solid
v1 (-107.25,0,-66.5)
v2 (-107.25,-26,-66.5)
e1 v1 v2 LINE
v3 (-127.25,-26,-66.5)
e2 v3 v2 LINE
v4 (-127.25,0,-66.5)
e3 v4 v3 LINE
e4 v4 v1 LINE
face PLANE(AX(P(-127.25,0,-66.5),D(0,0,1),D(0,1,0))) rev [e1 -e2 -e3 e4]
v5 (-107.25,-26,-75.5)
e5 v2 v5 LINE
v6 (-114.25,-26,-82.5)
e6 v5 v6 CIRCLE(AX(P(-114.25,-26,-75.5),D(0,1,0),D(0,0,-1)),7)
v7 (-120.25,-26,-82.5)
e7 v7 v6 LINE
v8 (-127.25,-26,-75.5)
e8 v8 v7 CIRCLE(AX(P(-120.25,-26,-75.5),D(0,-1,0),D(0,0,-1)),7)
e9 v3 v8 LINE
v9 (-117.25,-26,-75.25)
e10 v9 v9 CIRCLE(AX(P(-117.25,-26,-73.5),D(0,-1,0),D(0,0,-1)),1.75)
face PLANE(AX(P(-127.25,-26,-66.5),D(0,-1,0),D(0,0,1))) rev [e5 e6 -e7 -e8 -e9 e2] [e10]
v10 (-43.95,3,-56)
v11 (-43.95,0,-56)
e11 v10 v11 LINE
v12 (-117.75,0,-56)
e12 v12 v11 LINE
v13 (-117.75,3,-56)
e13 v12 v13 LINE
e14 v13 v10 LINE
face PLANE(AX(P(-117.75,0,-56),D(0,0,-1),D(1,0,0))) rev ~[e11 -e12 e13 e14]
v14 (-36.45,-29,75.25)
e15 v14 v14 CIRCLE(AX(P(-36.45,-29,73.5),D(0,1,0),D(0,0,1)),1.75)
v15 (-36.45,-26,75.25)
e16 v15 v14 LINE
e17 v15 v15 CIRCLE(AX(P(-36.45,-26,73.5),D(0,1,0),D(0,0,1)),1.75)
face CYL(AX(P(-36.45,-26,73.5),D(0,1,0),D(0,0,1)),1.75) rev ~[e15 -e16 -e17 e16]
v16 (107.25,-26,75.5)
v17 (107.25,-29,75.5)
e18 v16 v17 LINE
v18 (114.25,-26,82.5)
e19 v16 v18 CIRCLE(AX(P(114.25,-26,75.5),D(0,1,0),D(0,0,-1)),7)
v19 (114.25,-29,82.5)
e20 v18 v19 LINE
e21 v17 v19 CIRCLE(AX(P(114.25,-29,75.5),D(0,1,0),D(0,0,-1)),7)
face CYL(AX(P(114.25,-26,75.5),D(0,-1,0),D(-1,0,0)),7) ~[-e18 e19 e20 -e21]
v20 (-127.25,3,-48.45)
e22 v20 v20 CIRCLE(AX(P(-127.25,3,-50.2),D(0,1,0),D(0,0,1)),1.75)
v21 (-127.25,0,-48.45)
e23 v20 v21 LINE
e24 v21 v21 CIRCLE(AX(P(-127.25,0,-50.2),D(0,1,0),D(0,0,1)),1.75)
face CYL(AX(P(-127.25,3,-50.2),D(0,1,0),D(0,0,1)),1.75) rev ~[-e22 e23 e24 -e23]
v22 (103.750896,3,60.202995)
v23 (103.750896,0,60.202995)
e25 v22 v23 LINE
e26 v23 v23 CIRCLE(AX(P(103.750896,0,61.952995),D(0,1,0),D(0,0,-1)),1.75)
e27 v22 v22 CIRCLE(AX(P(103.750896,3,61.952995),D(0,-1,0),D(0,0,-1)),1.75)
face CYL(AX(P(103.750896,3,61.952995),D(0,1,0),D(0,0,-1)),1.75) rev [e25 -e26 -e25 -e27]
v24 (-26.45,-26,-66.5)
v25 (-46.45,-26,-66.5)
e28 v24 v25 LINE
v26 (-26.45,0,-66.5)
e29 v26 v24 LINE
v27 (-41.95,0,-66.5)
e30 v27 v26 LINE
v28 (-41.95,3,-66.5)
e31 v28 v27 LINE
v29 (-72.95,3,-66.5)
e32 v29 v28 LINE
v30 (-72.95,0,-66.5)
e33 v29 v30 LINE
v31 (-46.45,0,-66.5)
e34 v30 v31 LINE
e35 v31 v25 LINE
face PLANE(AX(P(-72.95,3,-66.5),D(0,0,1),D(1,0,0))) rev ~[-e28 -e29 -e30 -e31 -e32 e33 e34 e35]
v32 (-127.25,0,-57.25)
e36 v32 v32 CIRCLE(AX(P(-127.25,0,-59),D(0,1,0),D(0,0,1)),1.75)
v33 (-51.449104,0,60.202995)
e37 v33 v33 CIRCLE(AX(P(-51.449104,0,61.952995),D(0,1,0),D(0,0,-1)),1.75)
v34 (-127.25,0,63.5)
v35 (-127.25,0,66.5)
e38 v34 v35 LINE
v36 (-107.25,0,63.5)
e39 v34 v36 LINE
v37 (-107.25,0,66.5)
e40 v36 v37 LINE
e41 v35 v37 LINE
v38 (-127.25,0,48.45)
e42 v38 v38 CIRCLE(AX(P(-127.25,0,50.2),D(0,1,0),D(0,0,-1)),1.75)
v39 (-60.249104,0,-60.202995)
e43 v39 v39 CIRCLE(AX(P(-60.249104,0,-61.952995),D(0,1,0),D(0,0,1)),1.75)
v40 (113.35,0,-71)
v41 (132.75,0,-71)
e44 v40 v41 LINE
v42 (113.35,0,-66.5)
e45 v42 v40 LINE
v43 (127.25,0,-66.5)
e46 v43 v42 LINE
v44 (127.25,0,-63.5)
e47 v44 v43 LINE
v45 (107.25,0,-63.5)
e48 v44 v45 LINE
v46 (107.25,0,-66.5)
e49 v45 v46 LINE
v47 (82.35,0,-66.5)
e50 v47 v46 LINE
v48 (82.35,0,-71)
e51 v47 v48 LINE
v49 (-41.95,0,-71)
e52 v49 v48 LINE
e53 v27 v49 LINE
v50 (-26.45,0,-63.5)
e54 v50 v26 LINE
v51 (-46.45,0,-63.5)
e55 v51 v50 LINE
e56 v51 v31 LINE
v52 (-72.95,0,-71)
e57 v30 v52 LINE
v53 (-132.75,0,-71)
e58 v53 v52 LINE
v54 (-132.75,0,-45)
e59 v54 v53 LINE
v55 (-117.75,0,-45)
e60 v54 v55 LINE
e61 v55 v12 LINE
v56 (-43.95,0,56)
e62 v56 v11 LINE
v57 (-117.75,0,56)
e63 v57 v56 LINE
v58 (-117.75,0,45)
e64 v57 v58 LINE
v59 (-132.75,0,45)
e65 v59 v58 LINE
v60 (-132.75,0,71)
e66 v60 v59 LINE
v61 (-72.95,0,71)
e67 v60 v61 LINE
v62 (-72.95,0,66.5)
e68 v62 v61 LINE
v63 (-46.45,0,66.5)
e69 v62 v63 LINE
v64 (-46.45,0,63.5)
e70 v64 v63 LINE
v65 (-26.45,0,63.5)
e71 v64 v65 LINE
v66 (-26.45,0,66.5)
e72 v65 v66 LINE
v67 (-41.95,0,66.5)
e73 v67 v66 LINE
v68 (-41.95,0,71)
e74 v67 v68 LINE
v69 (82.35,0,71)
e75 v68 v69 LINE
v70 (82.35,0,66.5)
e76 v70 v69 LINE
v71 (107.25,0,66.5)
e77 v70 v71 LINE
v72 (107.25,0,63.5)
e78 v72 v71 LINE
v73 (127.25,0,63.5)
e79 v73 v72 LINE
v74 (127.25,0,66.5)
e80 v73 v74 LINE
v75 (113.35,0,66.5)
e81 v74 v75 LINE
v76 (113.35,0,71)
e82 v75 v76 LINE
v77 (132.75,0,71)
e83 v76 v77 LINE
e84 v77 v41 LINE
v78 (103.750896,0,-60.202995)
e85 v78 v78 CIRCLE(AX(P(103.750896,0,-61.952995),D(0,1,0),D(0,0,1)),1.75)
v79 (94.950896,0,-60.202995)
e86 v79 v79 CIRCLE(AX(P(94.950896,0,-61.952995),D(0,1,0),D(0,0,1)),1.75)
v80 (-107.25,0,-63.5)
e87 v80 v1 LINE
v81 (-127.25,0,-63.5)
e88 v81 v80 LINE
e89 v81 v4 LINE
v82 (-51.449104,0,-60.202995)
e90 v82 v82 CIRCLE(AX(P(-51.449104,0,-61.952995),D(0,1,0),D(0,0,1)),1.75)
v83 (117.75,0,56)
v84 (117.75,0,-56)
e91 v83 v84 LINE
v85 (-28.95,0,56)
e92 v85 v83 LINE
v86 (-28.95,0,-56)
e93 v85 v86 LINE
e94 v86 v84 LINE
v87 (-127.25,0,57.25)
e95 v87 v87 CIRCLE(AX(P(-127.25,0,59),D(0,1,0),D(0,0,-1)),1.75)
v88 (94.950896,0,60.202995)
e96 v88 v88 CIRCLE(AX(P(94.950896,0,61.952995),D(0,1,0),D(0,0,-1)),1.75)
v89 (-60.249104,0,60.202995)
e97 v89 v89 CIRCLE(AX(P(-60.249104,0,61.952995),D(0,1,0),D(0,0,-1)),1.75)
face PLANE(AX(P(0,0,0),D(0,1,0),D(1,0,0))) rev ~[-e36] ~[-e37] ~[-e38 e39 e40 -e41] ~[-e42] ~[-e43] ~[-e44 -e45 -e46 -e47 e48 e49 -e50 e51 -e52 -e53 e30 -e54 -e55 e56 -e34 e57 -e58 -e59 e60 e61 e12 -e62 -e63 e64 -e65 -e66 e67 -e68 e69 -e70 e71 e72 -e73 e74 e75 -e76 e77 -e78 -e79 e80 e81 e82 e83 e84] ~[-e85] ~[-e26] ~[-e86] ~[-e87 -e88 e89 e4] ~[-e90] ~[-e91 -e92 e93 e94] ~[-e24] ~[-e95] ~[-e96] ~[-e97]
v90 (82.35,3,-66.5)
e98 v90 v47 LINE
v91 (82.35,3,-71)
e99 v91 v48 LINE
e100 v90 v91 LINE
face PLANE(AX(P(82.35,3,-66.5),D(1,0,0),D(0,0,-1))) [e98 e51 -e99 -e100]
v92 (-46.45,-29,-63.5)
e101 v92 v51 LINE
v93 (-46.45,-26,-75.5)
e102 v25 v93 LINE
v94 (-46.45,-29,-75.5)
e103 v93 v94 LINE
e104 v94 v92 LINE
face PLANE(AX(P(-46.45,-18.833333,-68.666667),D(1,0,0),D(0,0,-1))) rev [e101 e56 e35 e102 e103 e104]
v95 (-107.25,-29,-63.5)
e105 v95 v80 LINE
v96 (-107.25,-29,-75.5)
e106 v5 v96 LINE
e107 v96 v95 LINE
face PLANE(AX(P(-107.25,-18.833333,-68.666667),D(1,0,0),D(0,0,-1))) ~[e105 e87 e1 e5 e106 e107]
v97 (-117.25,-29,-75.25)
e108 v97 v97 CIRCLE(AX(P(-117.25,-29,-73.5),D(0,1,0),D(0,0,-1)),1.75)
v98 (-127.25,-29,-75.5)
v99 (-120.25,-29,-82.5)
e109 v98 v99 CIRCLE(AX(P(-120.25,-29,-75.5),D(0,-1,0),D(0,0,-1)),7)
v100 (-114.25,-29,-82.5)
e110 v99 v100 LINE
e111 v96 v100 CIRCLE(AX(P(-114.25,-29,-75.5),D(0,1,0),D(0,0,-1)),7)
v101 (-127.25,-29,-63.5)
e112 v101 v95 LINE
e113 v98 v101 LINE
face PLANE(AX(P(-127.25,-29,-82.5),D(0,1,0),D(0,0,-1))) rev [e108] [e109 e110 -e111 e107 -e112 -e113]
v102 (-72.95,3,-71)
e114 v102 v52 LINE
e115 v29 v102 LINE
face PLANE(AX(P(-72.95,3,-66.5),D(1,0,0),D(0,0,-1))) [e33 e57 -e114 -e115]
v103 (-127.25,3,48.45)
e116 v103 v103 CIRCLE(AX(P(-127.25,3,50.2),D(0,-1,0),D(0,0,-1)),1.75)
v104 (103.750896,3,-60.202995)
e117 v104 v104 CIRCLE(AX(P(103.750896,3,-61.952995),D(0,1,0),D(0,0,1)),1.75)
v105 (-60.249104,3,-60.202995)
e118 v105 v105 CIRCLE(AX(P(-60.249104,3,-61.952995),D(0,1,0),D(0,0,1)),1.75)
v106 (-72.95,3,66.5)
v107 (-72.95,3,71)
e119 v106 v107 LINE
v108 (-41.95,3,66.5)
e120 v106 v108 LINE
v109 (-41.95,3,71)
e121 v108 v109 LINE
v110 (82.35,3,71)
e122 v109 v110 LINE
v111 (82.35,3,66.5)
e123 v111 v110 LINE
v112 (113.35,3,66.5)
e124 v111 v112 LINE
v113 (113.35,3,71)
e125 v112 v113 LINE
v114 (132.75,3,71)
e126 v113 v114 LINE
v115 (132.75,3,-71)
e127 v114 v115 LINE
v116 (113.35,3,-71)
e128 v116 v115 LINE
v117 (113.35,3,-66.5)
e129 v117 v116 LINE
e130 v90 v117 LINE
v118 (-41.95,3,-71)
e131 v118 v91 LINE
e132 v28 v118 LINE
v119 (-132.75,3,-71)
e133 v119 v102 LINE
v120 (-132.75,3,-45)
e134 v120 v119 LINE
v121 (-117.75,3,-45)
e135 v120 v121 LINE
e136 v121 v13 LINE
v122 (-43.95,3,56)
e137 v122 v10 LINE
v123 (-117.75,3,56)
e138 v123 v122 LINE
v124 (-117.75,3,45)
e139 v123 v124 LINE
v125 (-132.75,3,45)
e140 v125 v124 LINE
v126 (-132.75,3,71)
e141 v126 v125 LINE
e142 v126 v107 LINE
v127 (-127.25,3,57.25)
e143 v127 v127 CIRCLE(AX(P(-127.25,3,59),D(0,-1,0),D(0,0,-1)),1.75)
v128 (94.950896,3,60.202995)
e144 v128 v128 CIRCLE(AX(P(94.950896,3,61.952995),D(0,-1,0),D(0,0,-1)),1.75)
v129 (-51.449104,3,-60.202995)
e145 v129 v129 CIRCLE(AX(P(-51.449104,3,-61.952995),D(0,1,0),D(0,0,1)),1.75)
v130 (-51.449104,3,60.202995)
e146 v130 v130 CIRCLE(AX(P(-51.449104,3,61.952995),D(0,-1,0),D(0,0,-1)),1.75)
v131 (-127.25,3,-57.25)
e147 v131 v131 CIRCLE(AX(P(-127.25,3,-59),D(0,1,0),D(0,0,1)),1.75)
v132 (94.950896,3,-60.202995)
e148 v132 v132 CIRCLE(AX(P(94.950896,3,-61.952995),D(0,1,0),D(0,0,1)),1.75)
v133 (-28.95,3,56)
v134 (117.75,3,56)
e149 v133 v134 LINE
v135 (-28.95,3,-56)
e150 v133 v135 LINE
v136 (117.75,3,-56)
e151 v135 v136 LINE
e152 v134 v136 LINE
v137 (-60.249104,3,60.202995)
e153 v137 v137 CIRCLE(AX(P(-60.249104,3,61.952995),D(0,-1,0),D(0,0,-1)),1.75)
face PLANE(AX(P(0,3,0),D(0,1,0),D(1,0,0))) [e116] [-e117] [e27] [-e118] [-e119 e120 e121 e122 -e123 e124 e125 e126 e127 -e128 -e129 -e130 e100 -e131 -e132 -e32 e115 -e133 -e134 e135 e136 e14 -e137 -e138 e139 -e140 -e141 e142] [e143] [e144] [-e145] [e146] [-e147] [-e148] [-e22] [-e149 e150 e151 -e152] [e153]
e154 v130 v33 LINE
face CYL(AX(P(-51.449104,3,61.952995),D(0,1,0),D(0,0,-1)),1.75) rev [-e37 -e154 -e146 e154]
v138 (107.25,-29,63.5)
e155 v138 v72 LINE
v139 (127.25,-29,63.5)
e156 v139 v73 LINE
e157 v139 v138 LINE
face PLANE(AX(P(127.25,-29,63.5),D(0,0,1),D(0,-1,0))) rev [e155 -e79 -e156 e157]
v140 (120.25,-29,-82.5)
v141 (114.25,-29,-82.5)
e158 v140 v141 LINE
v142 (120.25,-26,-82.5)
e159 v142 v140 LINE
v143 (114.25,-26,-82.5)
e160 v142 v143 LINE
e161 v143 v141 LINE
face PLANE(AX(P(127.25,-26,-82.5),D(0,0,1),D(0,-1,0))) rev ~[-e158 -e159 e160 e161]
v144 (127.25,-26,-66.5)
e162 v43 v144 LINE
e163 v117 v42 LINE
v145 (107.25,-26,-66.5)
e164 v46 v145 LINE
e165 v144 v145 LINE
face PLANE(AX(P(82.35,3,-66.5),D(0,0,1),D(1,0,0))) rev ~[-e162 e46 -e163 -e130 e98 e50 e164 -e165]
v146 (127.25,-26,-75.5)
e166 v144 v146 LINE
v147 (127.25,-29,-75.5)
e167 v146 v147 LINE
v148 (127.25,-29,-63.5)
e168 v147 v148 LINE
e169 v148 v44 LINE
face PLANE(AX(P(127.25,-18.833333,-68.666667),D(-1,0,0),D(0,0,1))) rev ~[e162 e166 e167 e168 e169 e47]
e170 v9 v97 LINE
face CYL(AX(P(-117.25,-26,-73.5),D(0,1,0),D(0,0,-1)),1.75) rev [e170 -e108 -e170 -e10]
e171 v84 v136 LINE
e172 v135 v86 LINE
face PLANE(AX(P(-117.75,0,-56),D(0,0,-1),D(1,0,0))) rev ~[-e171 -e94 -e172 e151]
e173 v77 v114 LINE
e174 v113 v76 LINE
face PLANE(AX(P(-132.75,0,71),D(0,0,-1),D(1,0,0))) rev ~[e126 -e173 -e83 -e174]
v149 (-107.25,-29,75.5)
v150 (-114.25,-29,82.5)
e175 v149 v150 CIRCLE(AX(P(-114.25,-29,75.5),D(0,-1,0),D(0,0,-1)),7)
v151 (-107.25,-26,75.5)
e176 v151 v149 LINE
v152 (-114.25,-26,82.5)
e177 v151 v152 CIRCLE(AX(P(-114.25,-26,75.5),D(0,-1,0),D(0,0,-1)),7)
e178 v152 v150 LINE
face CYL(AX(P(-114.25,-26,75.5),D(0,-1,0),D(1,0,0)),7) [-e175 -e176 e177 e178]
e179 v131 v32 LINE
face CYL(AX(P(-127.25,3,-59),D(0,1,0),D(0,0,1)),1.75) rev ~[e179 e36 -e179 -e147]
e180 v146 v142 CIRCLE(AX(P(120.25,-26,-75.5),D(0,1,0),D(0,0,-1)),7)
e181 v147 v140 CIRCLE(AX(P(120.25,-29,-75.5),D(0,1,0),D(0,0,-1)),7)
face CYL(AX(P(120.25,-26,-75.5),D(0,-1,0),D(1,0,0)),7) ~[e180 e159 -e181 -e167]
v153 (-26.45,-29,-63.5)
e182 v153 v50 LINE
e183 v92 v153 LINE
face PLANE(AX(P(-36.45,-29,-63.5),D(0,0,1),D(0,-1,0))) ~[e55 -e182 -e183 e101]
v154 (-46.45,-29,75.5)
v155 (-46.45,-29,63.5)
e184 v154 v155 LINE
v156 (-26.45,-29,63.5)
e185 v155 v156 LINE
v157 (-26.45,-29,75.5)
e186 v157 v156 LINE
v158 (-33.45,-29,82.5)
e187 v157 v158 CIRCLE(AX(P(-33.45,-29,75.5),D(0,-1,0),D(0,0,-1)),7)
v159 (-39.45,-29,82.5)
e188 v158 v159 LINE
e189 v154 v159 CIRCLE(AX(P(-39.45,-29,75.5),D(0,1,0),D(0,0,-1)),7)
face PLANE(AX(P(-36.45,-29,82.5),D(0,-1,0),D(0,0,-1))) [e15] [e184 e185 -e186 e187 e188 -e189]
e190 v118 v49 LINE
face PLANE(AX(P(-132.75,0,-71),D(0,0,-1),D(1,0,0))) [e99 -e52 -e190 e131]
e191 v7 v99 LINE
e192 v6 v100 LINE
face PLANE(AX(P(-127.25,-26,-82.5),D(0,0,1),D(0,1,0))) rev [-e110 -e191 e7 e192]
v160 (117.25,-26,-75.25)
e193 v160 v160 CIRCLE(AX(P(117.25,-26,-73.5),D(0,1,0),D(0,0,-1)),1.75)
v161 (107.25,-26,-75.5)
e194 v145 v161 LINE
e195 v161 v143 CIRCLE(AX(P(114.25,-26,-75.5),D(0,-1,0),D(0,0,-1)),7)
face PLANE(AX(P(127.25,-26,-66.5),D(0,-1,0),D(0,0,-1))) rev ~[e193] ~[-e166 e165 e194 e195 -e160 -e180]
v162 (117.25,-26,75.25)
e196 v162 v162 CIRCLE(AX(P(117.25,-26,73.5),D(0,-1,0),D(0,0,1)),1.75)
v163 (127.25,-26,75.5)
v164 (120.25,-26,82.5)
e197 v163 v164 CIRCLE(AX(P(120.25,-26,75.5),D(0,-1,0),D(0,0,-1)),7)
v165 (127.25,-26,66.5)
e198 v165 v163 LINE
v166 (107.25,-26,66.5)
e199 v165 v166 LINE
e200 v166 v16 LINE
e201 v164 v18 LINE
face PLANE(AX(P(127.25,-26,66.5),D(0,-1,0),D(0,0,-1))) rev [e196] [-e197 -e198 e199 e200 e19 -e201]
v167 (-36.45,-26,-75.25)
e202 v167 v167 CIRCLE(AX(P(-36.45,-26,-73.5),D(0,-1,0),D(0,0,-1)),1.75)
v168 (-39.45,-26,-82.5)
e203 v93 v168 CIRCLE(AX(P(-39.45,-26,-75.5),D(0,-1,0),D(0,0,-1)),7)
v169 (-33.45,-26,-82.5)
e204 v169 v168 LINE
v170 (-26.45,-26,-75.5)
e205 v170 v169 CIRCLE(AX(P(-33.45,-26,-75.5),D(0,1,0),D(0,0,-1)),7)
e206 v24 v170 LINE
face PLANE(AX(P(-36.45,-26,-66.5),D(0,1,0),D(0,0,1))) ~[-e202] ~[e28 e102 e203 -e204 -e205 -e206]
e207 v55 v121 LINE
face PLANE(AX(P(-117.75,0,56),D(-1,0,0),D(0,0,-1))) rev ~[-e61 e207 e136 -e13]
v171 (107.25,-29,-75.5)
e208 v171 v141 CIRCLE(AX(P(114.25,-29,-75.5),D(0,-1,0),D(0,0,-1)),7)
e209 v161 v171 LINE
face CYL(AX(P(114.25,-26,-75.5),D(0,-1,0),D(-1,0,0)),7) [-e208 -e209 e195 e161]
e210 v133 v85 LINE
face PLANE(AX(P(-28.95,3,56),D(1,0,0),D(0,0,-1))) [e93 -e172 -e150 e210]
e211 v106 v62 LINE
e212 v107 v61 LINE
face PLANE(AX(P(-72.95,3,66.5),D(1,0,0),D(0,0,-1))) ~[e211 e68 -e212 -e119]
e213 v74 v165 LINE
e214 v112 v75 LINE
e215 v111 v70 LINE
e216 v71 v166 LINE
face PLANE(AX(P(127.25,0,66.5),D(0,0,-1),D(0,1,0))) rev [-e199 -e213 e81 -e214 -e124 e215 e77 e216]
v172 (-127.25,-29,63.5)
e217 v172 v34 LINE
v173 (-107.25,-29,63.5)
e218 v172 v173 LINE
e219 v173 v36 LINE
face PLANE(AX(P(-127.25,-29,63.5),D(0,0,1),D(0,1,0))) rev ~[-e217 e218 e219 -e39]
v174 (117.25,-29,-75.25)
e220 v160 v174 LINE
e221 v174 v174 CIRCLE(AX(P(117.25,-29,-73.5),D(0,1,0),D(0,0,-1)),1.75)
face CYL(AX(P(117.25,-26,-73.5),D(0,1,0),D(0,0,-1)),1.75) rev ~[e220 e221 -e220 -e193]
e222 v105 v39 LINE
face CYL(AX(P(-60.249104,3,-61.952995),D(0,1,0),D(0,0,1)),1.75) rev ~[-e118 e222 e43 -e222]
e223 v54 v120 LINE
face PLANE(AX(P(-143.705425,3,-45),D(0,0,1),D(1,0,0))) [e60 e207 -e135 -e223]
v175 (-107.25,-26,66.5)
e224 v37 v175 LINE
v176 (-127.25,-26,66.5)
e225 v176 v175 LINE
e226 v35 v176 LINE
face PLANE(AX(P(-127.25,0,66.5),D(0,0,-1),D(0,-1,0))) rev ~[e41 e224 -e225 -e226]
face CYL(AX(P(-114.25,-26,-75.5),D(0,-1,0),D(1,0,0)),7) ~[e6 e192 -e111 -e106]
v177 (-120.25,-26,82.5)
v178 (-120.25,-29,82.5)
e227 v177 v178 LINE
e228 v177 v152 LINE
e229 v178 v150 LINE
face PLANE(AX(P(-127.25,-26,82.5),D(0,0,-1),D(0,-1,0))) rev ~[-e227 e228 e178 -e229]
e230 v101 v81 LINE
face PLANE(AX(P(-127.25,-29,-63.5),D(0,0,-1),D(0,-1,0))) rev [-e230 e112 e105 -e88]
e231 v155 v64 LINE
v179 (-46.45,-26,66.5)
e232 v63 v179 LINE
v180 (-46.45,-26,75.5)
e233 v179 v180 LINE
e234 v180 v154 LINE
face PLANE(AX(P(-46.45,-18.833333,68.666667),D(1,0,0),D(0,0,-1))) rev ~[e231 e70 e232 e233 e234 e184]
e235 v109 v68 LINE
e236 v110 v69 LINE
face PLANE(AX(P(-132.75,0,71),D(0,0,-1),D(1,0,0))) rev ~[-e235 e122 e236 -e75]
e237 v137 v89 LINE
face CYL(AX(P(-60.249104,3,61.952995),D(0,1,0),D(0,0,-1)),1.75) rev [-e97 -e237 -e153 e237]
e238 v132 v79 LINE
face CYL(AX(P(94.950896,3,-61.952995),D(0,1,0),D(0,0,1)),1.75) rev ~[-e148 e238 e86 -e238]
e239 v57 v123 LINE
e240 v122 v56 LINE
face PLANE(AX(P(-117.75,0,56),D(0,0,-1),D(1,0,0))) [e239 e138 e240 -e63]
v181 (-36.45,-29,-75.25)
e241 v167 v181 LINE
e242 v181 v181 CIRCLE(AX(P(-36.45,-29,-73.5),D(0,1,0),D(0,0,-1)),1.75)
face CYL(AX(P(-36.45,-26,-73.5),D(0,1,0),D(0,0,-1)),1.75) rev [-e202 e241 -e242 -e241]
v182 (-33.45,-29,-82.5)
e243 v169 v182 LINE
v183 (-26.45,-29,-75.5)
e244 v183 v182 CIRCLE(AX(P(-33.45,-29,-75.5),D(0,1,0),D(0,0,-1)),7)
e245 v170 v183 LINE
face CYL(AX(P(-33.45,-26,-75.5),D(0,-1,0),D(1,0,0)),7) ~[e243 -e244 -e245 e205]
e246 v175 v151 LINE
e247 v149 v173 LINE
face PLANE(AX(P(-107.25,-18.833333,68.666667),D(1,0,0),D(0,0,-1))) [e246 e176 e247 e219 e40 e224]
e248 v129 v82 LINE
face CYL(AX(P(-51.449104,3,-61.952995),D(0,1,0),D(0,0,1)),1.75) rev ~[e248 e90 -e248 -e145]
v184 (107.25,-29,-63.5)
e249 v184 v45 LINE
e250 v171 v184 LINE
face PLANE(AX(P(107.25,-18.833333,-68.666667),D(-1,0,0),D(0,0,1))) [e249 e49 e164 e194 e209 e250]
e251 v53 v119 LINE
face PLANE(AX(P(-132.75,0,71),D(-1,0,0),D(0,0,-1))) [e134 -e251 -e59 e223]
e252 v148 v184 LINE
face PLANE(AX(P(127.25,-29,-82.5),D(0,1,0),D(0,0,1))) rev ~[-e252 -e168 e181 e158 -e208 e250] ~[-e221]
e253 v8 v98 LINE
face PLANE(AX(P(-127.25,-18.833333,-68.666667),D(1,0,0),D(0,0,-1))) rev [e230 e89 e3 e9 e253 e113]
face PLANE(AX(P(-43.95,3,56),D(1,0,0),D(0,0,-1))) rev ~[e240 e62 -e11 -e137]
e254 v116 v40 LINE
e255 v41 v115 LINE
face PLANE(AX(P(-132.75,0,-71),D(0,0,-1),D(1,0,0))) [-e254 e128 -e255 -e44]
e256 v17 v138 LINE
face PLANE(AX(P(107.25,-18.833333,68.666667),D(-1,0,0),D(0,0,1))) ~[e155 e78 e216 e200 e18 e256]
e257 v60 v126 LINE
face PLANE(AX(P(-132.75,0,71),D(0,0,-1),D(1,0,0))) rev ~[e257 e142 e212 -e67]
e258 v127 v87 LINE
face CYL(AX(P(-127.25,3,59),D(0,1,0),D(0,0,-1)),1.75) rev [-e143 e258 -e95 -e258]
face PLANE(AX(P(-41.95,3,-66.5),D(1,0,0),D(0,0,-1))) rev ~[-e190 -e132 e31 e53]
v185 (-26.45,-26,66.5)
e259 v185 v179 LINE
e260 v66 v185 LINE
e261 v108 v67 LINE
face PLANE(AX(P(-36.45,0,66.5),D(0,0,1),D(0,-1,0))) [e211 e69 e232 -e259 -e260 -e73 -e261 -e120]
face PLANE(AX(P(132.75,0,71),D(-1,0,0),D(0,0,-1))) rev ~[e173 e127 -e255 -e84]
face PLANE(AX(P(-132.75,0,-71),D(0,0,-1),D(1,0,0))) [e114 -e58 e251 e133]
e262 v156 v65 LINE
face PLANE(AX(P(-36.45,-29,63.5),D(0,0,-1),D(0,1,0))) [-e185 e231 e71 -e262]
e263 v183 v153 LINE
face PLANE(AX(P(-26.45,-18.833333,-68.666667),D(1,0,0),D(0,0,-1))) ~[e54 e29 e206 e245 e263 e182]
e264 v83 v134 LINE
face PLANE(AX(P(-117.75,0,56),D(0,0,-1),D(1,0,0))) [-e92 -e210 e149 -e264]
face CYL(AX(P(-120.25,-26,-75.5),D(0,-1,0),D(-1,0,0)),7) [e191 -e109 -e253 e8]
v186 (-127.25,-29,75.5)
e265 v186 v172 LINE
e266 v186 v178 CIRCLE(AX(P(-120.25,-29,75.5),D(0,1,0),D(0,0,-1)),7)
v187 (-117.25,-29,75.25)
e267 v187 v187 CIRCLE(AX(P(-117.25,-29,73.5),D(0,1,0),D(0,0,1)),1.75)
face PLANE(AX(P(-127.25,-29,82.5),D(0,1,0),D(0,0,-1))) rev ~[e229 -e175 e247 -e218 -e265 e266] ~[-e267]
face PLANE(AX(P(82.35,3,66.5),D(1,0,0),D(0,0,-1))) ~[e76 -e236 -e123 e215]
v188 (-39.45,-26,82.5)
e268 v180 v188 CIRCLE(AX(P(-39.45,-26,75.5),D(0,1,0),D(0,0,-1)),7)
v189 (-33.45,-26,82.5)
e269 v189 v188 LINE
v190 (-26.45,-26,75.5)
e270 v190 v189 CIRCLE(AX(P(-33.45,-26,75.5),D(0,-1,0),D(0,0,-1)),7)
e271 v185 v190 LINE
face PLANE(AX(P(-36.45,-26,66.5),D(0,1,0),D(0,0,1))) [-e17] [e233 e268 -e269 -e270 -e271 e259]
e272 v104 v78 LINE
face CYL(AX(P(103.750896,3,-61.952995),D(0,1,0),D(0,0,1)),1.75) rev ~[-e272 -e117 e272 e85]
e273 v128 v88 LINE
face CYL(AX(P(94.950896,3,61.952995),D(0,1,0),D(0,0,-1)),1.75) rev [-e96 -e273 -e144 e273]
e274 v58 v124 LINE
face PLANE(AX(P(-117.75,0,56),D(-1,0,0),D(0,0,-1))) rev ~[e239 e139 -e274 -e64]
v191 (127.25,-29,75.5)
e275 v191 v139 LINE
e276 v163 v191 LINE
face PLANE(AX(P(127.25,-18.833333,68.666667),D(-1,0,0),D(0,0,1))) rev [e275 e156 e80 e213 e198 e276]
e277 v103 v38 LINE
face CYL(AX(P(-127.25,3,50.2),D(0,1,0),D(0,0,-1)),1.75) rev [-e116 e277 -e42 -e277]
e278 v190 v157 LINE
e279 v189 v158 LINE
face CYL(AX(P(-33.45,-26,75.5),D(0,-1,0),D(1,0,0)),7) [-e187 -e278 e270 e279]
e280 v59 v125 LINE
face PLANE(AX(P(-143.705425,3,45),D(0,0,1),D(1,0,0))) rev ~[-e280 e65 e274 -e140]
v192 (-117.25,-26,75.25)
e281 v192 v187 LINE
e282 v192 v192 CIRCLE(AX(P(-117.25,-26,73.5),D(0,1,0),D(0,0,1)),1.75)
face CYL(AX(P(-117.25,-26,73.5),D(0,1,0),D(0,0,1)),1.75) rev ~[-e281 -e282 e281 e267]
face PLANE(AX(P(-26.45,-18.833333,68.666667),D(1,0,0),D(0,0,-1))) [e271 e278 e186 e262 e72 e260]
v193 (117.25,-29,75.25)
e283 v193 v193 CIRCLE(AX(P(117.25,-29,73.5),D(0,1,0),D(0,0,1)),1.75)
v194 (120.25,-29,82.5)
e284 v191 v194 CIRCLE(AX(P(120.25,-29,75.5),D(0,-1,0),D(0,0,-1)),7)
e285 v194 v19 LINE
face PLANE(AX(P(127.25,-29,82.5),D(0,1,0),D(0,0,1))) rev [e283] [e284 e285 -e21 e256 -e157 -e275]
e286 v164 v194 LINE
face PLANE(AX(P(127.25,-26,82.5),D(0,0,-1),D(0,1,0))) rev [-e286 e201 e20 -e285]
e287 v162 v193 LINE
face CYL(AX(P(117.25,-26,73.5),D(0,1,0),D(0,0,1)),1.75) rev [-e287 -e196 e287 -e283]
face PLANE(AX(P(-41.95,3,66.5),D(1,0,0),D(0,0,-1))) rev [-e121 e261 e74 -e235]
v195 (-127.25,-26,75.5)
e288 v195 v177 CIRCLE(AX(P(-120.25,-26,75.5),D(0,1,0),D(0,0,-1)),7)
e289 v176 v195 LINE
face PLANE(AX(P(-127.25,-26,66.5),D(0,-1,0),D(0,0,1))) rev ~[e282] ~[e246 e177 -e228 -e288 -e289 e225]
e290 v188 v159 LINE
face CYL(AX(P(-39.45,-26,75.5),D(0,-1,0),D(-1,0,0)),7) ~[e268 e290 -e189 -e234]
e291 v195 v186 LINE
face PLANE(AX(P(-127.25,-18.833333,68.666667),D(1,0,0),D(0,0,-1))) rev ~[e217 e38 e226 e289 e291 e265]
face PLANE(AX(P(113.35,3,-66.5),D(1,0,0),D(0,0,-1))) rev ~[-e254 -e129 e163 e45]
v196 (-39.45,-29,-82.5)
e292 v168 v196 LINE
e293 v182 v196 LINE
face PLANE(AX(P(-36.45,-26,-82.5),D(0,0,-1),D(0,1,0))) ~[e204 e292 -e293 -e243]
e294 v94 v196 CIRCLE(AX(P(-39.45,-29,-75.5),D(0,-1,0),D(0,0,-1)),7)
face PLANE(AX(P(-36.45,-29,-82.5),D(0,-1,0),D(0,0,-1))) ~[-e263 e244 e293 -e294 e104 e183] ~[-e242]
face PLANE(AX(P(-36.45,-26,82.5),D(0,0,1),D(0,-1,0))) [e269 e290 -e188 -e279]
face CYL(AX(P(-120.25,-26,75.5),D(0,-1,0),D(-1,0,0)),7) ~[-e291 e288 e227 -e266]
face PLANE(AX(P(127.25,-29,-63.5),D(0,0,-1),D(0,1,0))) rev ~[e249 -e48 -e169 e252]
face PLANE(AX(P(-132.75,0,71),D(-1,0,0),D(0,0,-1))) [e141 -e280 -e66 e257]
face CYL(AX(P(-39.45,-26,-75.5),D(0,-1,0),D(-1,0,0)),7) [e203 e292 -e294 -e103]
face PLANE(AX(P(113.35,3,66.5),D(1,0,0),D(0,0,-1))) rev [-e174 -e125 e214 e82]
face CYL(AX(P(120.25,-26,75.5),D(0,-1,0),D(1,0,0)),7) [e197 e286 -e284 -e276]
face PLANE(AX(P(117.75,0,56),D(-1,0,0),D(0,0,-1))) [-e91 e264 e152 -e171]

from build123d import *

# Parameters (mm, degrees)
CROQUIS1_W                 = 265.5
CROQUIS1_H                 = 142
CROQUIS1_W_2               = 235.5
CROQUIS1_H_2               = 112
SALIENTE_EXTRUIR1_DEPTH    = 3
SALIENTE_EXTRUIR2_DEPTH    = 20
SIMETR_A2_COPY_1_DEPTH     = 20
SALIENTE_EXTRUIR3_DEPTH    = 10
CROQUIS5_W                 = 38.206392887
CROQUIS5_H                 = 90
CORTAR_EXTRUIR2_DEPTH      = 160.539376017
CROQUIS6_W                 = 15
CROQUIS6_H                 = 112
SALIENTE_EXTRUIR4_DEPTH    = 3
CROQUIS8_W                 = 31
CROQUIS8_H                 = 4.5
CORTAR_EXTRUIR4_DEPTH      = 3
CROQUIS9_R                 = 1.75
CORTAR_EXTRUIR5_DEPTH      = 160.539376017
CROQUIS11_R                = 1.75
CORTAR_EXTRUIR7_DEPTH      = 4
CROQUIS12_R                = 1.75
CORTAR_EXTRUIR8_DEPTH      = 4
REDONDEO1_R                = 7
REDONDEO2_R                = 7
CROQUIS13_R                = 1.75
CORTAR_EXTRUIR9_DEPTH      = 159.964815289
CROQUIS15_R                = 1.75
CORTAR_EXTRUIR10_DEPTH     = 159.964815289
SIMETR_A12_COPY_1_SKETCH_R = 1.75
SIMETR_A12_COPY_1_DEPTH    = 159.964815289
REDONDEO3_R                = 7


with BuildPart() as part:
    # Croquis1 → Saliente-Extruir1 (new body)
    with BuildSketch(Plane(origin=(0, 0, 0), x_dir=(1, 0, 0), z_dir=(0, 1, 0))):
        Rectangle(CROQUIS1_W, CROQUIS1_H)
        Rectangle(CROQUIS1_W_2, CROQUIS1_H_2, mode=Mode.SUBTRACT)
    extrude(amount=SALIENTE_EXTRUIR1_DEPTH)

    # Croquis2 → Saliente-Extruir2 (add)
    with BuildSketch(Plane.ZY.offset(127.25)):
        Polygon((66.5, 0), (66.5, -26), (82.5, -26), (82.5, -29), (63.5, -29), (63.5, 0), align=None)
    saliente_extruir2 = extrude(amount=-SALIENTE_EXTRUIR2_DEPTH)

    # Simetría1: Saliente-Extruir2 across plane
    add(saliente_extruir2.mirror(Plane(origin=(0, 0, 0), x_dir=(0, 0, 1), z_dir=(1, 0, 0))))

    # Simetría2: Saliente-Extruir2 across plane
    add(saliente_extruir2.mirror(Plane.XY))

    # Simetría2 copy 1 sketch → Simetría2 copy 1 (add)
    with BuildSketch(Plane(origin=(127.25, 0, 0), x_dir=(0, 0, -1), z_dir=(1, 0, 0))):
        Polygon((66.5, 0), (66.5, -26), (82.5, -26), (82.5, -29), (63.5, -29), (63.5, 0), align=None)
    extrude(amount=-SIMETR_A2_COPY_1_DEPTH)

    # Croquis4 → Saliente-Extruir3 (add, symmetric)
    with BuildSketch(Plane(origin=(-36.45, 0, 0), x_dir=(0, 0, -1), z_dir=(1, 0, 0))):
        Polygon((-82.5, -29), (-63.5, -29), (-63.5, 0), (-66.5, 0), (-66.5, -26), (-82.5, -26), align=None)
    saliente_extruir3 = extrude(amount=SALIENTE_EXTRUIR3_DEPTH, both=True)

    # Simetría4: Saliente-Extruir3 across plane
    add(saliente_extruir3.mirror(Plane.XY))

    # Croquis5 → Cortar-Extruir2 (cut, through all)
    with BuildSketch(Plane(origin=(0, 3, 0), x_dir=(1, 0, 0), z_dir=(0, 1, 0))):
        with Locations((-124.602228384, 0)):
            Rectangle(CROQUIS5_W, CROQUIS5_H)
    extrude(amount=-CORTAR_EXTRUIR2_DEPTH, mode=Mode.SUBTRACT)

    # Croquis6 → Saliente-Extruir4 (add)
    with BuildSketch(Plane(origin=(0, 3, 0), x_dir=(1, 0, 0), z_dir=(0, 1, 0))):
        with Locations((-36.45, 0)):
            Rectangle(CROQUIS6_W, CROQUIS6_H)
    extrude(amount=-SALIENTE_EXTRUIR4_DEPTH)

    # Croquis8 → Cortar-Extruir4 (cut)
    with BuildSketch(Plane(origin=(0, 3, 0), x_dir=(1, 0, 0), z_dir=(0, 1, 0))):
        with Locations((97.85, 68.75)):
            Rectangle(CROQUIS8_W, CROQUIS8_H)
        with Locations((-57.45, 68.75)):
            Rectangle(CROQUIS8_W, CROQUIS8_H)
    cortar_extruir4 = extrude(amount=-CORTAR_EXTRUIR4_DEPTH, mode=Mode.SUBTRACT)

    # Croquis9 → Cortar-Extruir5 (cut, through all)
    with BuildSketch(Plane(origin=(0, 3, 0), x_dir=(1, 0, 0), z_dir=(0, 1, 0))):
        with Locations(Location((-127.25, 59, 0), (0, 0, 270))):
            Circle(CROQUIS9_R)
        with Locations(Location((-127.25, 50.2, 0), (0, 0, 270))):
            Circle(CROQUIS9_R)
    cortar_extruir5 = extrude(amount=-CORTAR_EXTRUIR5_DEPTH, mode=Mode.SUBTRACT)

    # Croquis11 → Cortar-Extruir7 (cut)
    with BuildSketch(Plane(origin=(0, 3, 0), x_dir=(1, 0, 0), z_dir=(0, 1, 0))):
        with Locations(Location((103.750895814, 61.952994616, 0), (0, 0, 270))):
            Circle(CROQUIS11_R)
        with Locations(Location((94.950895814, 61.952994616, 0), (0, 0, 270))):
            Circle(CROQUIS11_R)
    cortar_extruir7 = extrude(amount=-CORTAR_EXTRUIR7_DEPTH, mode=Mode.SUBTRACT)

    # Croquis12 → Cortar-Extruir8 (cut)
    with BuildSketch(Plane(origin=(0, 3, 0), x_dir=(1, 0, 0), z_dir=(0, 1, 0))):
        with Locations(Location((-51.449104186, 61.952994616, 0), (0, 0, 270))):
            Circle(CROQUIS12_R)
        with Locations(Location((-60.249104186, 61.952994616, 0), (0, 0, 270))):
            Circle(CROQUIS12_R)
    cortar_extruir8 = extrude(amount=-CORTAR_EXTRUIR8_DEPTH, mode=Mode.SUBTRACT)

    # Simetría5: Cortar-Extruir5, Cortar-Extruir7, Cortar-Extruir8 across plane
    add(cortar_extruir5.mirror(Plane.XY), mode=Mode.SUBTRACT)
    add(cortar_extruir7.mirror(Plane.XY), mode=Mode.SUBTRACT)
    add(cortar_extruir8.mirror(Plane.XY), mode=Mode.SUBTRACT)

    # Simetría6: Cortar-Extruir4 across plane
    add(cortar_extruir4.mirror(Plane.XY), mode=Mode.SUBTRACT)

    # Redondeo1
    redondeo1_edges = [part.edges().sort_by_distance(p)[0] for p in [
        (-107.25, -27.5, 82.5),
        (-127.25, -27.5, 82.5),
    ]]
    fillet(redondeo1_edges, radius=REDONDEO1_R)

    # Redondeo2
    redondeo2_edges = [part.edges().sort_by_distance(p)[0] for p in [
        (-46.45, -27.5, 82.5),
        (-26.45, -27.5, 82.5),
        (127.25, -27.5, 82.5),
        (107.25, -27.5, 82.5),
    ]]
    fillet(redondeo2_edges, radius=REDONDEO2_R)

    # Croquis13 → Cortar-Extruir9 (cut, through all)
    with BuildSketch(Plane(origin=(0, -26, 0), x_dir=(1, 0, 0), z_dir=(0, 1, 0))):
        with Locations(Location((-117.25, -73.5, 0), (0, 0, 270))):
            Circle(CROQUIS13_R)
    cortar_extruir9 = extrude(amount=-CORTAR_EXTRUIR9_DEPTH, mode=Mode.SUBTRACT)

    # Simetría7: Cortar-Extruir9 across plane
    add(cortar_extruir9.mirror(Plane(origin=(0, 0, 0), x_dir=(0, 0, 1), z_dir=(1, 0, 0))), mode=Mode.SUBTRACT)

    # Croquis15 → Cortar-Extruir10 (cut, through all)
    with BuildSketch(Plane(origin=(0, -26, 0), x_dir=(1, 0, 0), z_dir=(0, 1, 0))):
        with Locations(Location((-36.45, -73.5, 0), (0, 0, 270))):
            Circle(CROQUIS15_R)
    cortar_extruir10 = extrude(amount=-CORTAR_EXTRUIR10_DEPTH, mode=Mode.SUBTRACT)

    # Simetría12: Cortar-Extruir9, Cortar-Extruir10 across plane
    add(cortar_extruir9.mirror(Plane.XY), mode=Mode.SUBTRACT)
    add(cortar_extruir10.mirror(Plane.XY), mode=Mode.SUBTRACT)

    # Simetría12 copy 1 sketch → Simetría12 copy 1 (cut, through all)
    with BuildSketch(Plane(origin=(0, -26, 0), x_dir=(-1, 0, 0), z_dir=(0, 1, 0))):
        with Locations(Location((-117.25, -73.5, 0), (0, 0, 270))):
            Circle(SIMETR_A12_COPY_1_SKETCH_R)
    extrude(amount=-SIMETR_A12_COPY_1_DEPTH, mode=Mode.SUBTRACT)

    # Redondeo3
    redondeo3_edges = [part.edges().sort_by_distance(p)[0] for p in [
        (-26.45, -27.5, -82.5),
        (-46.45, -27.5, -82.5),
        (107.25, -27.5, -82.5),
        (127.25, -27.5, -82.5),
        (-127.25, -27.5, -82.5),
        (-107.25, -27.5, -82.5),
    ]]
    fillet(redondeo3_edges, radius=REDONDEO3_R)


solid = part.part
